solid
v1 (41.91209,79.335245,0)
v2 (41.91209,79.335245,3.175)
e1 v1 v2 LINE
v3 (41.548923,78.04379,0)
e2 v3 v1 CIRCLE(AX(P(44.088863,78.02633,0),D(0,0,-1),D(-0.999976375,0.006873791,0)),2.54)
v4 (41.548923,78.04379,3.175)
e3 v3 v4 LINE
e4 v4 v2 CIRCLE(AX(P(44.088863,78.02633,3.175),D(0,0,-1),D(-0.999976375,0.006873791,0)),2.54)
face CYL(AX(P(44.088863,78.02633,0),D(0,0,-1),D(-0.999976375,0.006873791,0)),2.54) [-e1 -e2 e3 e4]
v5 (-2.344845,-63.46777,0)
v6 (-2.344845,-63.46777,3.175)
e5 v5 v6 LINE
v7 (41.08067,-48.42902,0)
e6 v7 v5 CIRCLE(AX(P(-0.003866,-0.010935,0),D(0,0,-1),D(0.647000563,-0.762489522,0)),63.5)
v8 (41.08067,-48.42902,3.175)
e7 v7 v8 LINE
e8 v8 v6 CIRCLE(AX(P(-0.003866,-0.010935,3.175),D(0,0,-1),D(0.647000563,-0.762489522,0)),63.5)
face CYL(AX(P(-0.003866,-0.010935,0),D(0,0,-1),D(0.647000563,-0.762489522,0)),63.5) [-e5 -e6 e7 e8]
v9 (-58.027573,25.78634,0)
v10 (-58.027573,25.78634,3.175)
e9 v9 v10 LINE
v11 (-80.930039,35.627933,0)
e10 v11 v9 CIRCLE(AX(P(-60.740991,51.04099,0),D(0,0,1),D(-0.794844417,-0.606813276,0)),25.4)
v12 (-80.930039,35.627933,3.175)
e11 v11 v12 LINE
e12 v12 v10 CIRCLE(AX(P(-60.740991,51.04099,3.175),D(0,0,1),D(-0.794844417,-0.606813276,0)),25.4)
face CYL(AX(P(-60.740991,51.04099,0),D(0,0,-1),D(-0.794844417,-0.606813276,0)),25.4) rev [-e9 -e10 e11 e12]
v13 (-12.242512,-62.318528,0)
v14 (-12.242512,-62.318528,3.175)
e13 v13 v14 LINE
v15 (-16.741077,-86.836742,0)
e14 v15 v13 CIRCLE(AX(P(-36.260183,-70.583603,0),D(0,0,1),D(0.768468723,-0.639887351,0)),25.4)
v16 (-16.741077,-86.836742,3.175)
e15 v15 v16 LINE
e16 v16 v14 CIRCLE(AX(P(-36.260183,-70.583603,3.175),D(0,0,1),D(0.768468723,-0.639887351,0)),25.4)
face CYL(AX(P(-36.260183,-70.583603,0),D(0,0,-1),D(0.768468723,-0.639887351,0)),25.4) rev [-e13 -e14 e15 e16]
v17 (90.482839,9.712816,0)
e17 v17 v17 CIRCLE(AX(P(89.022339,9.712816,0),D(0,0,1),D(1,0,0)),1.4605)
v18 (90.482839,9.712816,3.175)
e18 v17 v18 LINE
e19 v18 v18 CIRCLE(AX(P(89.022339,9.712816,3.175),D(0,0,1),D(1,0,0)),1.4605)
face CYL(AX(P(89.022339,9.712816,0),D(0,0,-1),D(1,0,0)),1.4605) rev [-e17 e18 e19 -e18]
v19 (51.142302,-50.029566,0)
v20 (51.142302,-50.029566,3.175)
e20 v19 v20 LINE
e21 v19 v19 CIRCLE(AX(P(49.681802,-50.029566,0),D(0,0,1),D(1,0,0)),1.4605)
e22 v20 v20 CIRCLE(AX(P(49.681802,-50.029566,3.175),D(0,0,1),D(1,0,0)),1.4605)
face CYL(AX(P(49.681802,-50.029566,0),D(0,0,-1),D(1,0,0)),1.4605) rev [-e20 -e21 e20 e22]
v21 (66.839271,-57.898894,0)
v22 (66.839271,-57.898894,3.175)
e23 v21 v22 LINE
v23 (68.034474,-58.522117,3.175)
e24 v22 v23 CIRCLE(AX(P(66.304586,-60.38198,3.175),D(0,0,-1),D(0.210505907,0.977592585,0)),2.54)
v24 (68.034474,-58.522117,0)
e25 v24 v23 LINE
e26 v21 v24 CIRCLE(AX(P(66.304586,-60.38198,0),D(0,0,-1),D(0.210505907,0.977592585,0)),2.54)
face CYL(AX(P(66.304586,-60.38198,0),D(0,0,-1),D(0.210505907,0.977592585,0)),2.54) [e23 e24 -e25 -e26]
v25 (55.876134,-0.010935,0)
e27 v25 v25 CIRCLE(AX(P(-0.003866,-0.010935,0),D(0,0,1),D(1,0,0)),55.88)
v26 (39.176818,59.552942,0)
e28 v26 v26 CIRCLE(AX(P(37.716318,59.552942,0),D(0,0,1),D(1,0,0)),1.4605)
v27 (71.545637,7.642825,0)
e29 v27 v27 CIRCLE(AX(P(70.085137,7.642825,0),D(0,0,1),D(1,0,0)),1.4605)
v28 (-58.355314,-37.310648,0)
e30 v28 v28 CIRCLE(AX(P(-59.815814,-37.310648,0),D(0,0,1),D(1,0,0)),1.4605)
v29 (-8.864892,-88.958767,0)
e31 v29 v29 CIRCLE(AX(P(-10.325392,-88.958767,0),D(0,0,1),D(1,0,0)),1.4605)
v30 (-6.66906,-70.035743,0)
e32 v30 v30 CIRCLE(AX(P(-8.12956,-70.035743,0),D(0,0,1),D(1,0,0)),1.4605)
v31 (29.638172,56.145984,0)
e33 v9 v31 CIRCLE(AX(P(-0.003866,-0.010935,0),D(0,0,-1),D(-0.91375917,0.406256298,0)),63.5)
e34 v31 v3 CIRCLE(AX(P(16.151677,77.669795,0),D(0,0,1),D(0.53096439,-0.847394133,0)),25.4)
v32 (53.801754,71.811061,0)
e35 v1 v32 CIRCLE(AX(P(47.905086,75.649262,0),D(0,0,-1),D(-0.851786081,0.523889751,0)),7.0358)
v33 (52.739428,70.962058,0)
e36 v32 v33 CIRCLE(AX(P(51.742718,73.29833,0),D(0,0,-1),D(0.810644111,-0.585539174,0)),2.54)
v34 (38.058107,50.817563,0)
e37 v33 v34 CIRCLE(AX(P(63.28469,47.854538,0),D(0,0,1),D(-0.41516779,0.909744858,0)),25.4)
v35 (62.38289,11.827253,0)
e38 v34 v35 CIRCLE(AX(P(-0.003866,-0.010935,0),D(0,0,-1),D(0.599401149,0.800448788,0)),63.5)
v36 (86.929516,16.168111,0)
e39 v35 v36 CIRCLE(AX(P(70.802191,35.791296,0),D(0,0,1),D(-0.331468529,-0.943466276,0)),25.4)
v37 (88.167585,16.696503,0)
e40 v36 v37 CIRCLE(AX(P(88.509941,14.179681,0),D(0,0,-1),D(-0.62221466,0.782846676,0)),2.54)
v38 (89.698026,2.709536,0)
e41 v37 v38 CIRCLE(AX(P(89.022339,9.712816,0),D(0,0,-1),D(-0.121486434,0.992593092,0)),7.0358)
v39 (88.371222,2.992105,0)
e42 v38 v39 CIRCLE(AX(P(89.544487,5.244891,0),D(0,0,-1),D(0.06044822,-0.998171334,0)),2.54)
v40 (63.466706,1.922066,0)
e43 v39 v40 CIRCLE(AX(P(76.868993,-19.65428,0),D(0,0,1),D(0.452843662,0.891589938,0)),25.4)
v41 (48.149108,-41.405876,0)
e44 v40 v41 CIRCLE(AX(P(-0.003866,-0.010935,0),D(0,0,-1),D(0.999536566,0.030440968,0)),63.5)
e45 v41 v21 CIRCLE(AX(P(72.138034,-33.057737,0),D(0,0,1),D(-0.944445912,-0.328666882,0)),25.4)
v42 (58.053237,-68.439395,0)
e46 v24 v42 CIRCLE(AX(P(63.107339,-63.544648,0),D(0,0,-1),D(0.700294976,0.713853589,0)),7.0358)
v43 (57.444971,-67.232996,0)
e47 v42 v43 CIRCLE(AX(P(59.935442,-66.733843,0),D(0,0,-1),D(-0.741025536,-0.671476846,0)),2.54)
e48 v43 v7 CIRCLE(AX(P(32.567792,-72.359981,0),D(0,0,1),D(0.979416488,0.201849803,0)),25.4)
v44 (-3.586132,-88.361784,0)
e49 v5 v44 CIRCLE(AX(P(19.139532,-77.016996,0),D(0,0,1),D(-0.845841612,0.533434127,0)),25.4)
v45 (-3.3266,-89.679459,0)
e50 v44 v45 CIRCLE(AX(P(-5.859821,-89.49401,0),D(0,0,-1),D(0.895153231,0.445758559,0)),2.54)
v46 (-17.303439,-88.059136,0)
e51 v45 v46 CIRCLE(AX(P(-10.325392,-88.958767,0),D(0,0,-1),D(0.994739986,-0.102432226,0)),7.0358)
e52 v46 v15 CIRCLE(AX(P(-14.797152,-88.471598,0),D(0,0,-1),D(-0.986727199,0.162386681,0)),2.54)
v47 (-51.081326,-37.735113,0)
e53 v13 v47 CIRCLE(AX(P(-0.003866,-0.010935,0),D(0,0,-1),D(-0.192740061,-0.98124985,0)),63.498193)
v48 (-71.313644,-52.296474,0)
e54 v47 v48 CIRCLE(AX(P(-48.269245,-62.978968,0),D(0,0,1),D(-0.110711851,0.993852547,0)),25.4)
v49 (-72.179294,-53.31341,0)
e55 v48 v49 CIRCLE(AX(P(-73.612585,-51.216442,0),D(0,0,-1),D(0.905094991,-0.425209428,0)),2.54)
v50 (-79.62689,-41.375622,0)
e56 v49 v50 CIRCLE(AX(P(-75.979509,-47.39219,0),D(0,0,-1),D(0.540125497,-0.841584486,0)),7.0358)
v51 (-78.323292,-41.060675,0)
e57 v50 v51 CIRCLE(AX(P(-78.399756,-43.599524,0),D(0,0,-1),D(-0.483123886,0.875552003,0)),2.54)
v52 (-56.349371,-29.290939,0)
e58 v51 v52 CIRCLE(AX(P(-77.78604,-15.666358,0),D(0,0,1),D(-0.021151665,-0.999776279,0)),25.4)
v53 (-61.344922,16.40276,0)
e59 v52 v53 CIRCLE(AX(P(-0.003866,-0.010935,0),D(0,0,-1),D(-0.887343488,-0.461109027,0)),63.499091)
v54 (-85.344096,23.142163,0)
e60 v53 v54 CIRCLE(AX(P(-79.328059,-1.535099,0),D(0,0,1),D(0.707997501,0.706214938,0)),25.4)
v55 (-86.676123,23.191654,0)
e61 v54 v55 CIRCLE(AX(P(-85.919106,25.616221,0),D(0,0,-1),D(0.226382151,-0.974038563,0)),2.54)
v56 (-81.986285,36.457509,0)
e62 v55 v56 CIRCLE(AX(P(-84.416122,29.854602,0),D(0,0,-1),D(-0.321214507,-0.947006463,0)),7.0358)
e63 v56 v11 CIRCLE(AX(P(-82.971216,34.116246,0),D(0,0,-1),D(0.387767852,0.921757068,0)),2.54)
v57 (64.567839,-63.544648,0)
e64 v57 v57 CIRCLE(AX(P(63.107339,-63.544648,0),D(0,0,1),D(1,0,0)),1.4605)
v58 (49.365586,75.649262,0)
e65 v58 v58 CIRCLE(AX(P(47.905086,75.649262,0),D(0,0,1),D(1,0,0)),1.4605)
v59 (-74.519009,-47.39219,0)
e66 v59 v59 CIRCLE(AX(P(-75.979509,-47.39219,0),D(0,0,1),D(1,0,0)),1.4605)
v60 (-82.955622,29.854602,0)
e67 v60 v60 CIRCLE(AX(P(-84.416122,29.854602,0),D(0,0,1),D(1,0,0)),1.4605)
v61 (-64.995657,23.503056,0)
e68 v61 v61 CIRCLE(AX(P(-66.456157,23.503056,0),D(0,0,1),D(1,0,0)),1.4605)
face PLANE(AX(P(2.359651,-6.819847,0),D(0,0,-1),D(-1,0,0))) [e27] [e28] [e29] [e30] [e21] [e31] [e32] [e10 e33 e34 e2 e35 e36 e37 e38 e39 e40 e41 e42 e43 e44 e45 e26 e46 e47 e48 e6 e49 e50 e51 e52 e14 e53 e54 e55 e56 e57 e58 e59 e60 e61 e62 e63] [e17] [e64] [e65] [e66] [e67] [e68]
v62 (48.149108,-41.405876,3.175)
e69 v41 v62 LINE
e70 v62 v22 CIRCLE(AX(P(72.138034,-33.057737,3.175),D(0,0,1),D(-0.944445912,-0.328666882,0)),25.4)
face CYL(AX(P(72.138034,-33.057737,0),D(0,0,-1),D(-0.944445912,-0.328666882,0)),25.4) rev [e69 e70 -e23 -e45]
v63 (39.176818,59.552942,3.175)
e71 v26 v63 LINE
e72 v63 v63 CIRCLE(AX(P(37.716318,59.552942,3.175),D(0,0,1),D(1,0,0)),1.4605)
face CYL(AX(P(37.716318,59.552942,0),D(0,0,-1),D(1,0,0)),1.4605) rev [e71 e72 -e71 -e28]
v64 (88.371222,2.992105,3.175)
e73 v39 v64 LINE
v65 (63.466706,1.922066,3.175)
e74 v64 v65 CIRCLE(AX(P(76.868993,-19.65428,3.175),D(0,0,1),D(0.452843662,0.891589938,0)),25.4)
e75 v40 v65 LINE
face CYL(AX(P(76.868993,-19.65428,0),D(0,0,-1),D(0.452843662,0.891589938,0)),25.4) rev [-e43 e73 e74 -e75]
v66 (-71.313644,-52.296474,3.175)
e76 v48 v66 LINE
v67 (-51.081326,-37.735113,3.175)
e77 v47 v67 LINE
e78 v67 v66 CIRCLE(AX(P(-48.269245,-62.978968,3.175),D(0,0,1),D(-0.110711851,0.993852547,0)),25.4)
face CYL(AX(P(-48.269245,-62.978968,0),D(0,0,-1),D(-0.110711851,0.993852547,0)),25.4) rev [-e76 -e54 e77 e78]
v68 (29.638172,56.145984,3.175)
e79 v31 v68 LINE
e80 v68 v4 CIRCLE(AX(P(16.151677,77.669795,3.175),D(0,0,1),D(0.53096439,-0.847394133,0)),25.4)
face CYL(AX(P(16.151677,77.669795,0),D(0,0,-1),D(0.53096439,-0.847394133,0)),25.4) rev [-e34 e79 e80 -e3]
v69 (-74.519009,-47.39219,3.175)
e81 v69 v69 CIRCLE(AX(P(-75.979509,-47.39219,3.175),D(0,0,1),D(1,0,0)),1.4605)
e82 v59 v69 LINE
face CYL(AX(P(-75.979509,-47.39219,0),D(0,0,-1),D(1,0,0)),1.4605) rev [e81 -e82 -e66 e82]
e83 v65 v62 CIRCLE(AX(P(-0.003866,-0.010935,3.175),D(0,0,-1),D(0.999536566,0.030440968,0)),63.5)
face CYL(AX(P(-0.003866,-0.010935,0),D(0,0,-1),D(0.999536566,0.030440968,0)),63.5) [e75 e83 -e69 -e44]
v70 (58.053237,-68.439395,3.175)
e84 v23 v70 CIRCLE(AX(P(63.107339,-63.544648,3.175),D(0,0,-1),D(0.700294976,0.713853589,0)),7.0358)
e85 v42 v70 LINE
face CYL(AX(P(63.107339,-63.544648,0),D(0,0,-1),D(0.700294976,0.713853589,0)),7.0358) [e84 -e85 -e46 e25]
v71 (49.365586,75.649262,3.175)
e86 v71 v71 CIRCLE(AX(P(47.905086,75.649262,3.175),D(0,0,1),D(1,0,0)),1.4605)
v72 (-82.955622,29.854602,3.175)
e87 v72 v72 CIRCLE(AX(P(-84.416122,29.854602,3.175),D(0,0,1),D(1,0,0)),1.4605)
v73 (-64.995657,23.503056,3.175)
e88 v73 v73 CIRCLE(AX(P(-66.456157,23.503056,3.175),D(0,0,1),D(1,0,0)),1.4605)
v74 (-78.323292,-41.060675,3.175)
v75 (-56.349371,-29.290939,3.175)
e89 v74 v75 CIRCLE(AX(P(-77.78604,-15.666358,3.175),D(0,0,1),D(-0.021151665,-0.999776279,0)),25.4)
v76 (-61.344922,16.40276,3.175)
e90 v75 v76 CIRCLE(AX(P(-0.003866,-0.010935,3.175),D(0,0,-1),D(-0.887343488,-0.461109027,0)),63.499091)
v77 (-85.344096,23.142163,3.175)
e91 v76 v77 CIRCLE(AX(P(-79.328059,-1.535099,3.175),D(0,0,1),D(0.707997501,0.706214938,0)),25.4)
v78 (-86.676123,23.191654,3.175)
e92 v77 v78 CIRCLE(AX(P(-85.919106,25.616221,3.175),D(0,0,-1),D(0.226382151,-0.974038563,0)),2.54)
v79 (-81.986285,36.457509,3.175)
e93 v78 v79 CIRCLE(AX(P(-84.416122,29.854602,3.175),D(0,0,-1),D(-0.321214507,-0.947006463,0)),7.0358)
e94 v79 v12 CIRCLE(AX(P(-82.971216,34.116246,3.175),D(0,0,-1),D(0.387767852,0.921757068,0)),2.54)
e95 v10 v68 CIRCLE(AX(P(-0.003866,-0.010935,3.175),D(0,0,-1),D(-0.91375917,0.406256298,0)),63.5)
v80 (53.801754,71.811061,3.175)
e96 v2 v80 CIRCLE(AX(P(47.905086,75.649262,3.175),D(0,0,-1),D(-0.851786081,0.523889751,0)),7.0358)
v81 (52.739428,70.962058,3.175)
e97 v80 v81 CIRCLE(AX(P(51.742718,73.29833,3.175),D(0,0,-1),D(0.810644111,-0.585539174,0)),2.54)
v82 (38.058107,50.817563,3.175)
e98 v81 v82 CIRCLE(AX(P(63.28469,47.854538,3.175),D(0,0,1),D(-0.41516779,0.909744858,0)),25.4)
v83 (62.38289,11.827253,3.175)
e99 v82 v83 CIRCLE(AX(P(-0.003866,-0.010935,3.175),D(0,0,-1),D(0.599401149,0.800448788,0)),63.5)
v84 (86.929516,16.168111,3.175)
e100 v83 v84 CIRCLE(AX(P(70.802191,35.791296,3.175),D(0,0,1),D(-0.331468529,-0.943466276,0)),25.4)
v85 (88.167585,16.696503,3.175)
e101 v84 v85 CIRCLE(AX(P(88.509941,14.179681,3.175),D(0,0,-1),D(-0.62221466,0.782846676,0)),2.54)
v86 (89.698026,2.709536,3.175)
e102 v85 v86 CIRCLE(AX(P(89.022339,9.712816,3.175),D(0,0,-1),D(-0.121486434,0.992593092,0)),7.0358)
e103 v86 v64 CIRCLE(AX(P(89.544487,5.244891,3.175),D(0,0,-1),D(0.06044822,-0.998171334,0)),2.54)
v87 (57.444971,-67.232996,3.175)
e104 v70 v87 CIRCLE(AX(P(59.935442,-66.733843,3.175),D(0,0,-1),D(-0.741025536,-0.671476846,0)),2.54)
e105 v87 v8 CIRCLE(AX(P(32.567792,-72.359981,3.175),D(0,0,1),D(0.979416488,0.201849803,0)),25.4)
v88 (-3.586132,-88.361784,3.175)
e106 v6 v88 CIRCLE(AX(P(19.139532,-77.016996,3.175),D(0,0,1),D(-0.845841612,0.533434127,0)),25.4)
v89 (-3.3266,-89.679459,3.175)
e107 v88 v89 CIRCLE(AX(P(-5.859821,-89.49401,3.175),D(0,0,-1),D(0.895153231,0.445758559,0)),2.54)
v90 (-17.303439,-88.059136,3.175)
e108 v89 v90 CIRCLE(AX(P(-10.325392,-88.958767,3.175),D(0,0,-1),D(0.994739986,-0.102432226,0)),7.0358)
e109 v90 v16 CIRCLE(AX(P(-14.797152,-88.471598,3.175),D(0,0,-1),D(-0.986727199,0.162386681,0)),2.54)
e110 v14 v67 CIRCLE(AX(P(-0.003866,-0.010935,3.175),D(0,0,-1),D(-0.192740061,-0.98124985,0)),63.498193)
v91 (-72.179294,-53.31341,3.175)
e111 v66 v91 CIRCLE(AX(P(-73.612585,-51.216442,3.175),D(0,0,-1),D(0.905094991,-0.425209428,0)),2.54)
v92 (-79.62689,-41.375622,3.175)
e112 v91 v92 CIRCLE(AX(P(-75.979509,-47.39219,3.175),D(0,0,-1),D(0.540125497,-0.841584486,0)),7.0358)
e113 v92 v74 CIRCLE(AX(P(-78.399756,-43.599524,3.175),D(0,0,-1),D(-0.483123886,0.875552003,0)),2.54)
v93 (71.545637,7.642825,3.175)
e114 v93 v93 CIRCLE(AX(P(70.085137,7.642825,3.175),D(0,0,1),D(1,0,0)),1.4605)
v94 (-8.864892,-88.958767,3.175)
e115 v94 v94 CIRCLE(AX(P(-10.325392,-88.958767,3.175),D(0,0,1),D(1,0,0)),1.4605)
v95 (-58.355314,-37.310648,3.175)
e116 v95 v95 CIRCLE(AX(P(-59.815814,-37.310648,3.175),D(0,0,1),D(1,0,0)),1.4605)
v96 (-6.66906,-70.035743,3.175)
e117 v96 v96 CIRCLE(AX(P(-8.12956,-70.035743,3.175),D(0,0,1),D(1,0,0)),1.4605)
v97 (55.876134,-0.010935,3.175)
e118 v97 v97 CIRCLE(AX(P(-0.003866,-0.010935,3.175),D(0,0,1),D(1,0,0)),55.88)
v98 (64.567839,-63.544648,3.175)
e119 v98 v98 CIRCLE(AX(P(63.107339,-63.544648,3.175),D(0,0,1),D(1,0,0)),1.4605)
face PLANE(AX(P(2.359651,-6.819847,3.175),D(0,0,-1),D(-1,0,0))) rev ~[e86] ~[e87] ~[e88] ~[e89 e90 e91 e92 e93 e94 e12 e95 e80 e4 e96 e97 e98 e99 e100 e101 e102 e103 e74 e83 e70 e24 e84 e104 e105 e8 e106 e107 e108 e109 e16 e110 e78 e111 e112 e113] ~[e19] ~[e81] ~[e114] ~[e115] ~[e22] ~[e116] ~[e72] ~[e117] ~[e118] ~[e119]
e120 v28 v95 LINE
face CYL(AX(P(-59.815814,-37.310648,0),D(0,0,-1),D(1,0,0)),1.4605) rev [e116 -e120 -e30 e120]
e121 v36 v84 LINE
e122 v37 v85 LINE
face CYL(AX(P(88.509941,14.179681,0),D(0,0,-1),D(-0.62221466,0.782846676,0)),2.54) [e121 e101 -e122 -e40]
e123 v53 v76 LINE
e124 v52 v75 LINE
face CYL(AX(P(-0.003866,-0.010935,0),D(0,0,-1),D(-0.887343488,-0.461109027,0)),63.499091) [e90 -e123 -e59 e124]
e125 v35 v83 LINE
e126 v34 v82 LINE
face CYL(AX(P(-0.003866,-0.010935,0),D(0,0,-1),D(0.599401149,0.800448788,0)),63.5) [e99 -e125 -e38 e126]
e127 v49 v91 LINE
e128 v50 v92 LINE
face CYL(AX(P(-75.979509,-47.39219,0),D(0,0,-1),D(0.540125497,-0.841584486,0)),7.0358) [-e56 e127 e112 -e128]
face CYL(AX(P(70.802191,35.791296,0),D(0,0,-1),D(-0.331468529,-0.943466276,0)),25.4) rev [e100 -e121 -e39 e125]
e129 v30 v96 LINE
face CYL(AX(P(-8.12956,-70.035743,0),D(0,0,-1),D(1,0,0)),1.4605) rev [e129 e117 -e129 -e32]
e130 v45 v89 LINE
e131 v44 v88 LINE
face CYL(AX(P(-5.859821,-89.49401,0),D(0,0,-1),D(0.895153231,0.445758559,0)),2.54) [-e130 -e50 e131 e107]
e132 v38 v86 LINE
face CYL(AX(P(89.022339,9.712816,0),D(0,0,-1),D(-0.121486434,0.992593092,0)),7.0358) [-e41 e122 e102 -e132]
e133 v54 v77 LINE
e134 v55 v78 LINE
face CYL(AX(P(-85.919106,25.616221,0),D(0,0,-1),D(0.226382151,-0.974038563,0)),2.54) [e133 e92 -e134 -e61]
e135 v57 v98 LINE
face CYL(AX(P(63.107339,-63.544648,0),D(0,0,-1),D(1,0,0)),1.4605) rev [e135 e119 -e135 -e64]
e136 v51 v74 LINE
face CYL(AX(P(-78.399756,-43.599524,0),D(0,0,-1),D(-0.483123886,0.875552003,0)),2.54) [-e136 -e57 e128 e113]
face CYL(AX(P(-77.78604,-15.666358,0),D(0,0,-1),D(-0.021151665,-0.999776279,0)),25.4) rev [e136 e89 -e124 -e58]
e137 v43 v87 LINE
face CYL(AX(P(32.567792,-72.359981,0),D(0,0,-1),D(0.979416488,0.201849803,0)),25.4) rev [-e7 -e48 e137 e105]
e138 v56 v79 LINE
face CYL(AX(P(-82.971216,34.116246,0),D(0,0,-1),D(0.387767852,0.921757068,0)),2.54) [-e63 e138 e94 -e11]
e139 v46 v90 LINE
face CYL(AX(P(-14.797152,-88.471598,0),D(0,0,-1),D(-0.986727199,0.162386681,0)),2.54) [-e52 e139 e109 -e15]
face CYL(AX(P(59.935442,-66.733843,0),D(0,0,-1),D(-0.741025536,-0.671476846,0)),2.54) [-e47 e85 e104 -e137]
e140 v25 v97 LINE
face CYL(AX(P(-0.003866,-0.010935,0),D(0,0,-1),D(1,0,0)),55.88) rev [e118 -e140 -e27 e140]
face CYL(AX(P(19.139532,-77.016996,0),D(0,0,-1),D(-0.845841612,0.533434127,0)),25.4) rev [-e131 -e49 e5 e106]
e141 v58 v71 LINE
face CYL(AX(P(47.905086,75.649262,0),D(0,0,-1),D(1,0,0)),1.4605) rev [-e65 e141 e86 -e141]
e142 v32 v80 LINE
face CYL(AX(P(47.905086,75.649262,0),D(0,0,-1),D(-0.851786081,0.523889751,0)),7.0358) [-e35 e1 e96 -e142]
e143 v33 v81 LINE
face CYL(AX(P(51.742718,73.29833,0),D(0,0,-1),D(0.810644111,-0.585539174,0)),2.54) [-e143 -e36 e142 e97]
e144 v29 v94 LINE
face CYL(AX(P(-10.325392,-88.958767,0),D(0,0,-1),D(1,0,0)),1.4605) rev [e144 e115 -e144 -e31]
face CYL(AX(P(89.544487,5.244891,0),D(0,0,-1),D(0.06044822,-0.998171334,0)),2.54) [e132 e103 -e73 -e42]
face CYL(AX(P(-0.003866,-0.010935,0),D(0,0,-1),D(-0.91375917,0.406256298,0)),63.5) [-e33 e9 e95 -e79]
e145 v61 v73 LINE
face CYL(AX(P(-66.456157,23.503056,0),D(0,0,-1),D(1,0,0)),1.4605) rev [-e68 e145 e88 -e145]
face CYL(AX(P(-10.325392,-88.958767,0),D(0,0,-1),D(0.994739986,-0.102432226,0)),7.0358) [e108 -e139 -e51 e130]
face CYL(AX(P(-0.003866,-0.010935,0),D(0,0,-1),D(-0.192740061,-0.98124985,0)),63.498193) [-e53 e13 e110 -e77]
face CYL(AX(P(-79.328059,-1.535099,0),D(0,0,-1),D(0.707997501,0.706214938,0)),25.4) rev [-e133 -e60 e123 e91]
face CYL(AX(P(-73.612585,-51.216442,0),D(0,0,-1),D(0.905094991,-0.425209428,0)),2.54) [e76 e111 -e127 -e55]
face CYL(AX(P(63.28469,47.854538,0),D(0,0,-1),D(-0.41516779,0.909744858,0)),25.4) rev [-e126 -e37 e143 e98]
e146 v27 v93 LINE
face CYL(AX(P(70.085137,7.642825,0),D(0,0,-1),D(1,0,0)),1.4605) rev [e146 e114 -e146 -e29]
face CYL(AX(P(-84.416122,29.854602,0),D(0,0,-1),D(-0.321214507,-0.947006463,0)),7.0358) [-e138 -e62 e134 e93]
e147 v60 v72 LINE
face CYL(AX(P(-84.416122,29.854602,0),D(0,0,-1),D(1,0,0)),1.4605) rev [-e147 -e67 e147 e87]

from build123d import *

# Parameters (mm, degrees)
SKETCH1_R           = 1.4605
SKETCH1_R_2         = 55.88
BOSS_EXTRUDE1_DEPTH = 3.175


with BuildPart() as part:
    # Sketch1 → Boss-Extrude1 (new body)
    with BuildSketch(Plane.XY):
        with BuildLine():
            ThreePointArc((88.371221891, 2.992104588), (75.778671602, 5.722307778), (63.466706043, 1.922066166))
            ThreePointArc((63.466706043, 1.922066166), (59.865004486, -21.176198252), (48.149108175, -41.405875631))
            ThreePointArc((48.149108175, -41.405875631), (55.331871693, -52.10275973), (66.839271225, -57.898894408))
            ThreePointArc((66.839271225, -57.898894408), (67.47896866, -58.129774903), (68.034473997, -58.522117141))
            ThreePointArc((68.034473997, -58.522117141), (68.066383731, -68.535675481), (58.053237429, -68.439394687))
            ThreePointArc((58.053237429, -68.439394687), (57.667420479, -67.877380582), (57.444971188, -67.232996469))
            ThreePointArc((57.444971188, -67.232996469), (51.728203311, -55.685490362), (41.080669811, -48.429019967))
            ThreePointArc((41.080669811, -48.429019967), (20.776095309, -60.014628604), (-2.344845215, -63.467769564))
            ThreePointArc((-2.344845215, -63.467769564), (-6.228950943, -75.752050976), (-3.586132247, -88.361783585))
            ThreePointArc((-3.586132247, -88.361783585), (-3.36770111, -89.003157809), (-3.32660045, -89.679459363))
            ThreePointArc((-3.32660045, -89.679459363), (-11.135620218, -95.947758903), (-17.303439466, -88.059135792))
            ThreePointArc((-17.303439466, -88.059135792), (-17.104674606, -87.410023107), (-16.741077367, -86.836741505))
            ThreePointArc((-16.741077367, -86.836741505), (-11.27722002, -75.167440106), (-12.242511565, -62.318527916))
            ThreePointArc((-12.242511565, -62.318527916), (-33.964407462, -53.664473517), (-51.081326085, -37.735113336))
            ThreePointArc((-51.081326085, -37.735113336), (-63.106619809, -42.363141327), (-71.313643792, -52.296473576))
            ThreePointArc((-71.313643792, -52.296473576), (-71.67843667, -52.862852869), (-72.179293677, -53.313409866))
            ThreePointArc((-72.179293677, -53.313409866), (-81.948891787, -51.116293203), (-79.626890286, -41.375621876))
            ThreePointArc((-79.626890286, -41.375621876), (-78.996252753, -41.130558358), (-78.323292008, -41.060675146))
            ThreePointArc((-78.323292008, -41.060675146), (-65.793205462, -38.056800419), (-56.34937083, -29.290939384))
            ThreePointArc((-56.34937083, -29.290939384), (-63.126842761, -6.911975648), (-61.344922052, 16.402760085))
            ThreePointArc((-61.344922052, 16.402760085), (-72.460908038, 22.91898505), (-85.344095674, 23.142163421))
            ThreePointArc((-85.344095674, 23.142163421), (-86.013413894, 23.077972745), (-86.676123345, 23.191654347))
            ThreePointArc((-86.676123345, 23.191654347), (-91.049593156, 32.199713553), (-81.986285397, 36.457508913))
            ThreePointArc((-81.986285397, 36.457508913), (-81.402337069, 36.113799392), (-80.930038908, 35.627932814))
            ThreePointArc((-80.930038908, 35.627932814), (-70.769133899, 27.704401933), (-58.027573187, 25.786339663))
            ThreePointArc((-58.027573187, 25.786339663), (-20.78382715, 59.992758023), (29.638172071, 56.145983995))
            ThreePointArc((29.638172071, 56.145983995), (38.464561255, 65.533272539), (41.548923024, 78.043789903))
            ThreePointArc((41.548923024, 78.043789903), (41.643702385, 78.713927363), (41.912089569, 79.335245044))
            ThreePointArc((41.912089569, 79.335245044), (51.667486511, 81.594581089), (53.801754345, 71.811060778))
            ThreePointArc((53.801754345, 71.811060778), (53.328466449, 71.314142081), (52.739428076, 70.96205769))
            ThreePointArc((52.739428076, 70.96205769), (42.75772259, 62.814605524), (38.058107022, 50.817562776))
            ThreePointArc((38.058107022, 50.817562776), (53.871433145, 33.600106803), (62.38288993, 11.827252681))
            ThreePointArc((62.38288993, 11.827252681), (75.225331292, 10.779382415), (86.929515737, 16.168111273))
            ThreePointArc((86.929515737, 16.168111273), (87.512909807, 16.51581617), (88.167585105, 16.696502613))
            ThreePointArc((88.167585105, 16.696502613), (96.016395661, 10.478099143), (89.698025701, 2.709536219))
            ThreePointArc((89.698025701, 2.709536219), (89.01541073, 2.76060518), (88.371221891, 2.992104588))
        make_face()
        with Locations((-10.325392041, -88.958766705)):
            Circle(SKETCH1_R, mode=Mode.SUBTRACT)
        with Locations((-8.129560177, -70.035743099)):
            Circle(SKETCH1_R, mode=Mode.SUBTRACT)
        with Locations((-75.97950865, -47.392189739)):
            Circle(SKETCH1_R, mode=Mode.SUBTRACT)
        with Locations((-59.815814277, -37.310647981)):
            Circle(SKETCH1_R, mode=Mode.SUBTRACT)
        with Locations((-84.416122315, 29.854602417)):
            Circle(SKETCH1_R, mode=Mode.SUBTRACT)
        with Locations((-66.456156975, 23.503055756)):
            Circle(SKETCH1_R, mode=Mode.SUBTRACT)
        with Locations((47.905086081, 75.649261531)):
            Circle(SKETCH1_R, mode=Mode.SUBTRACT)
        with Locations((37.716317694, 59.552942115)):
            Circle(SKETCH1_R, mode=Mode.SUBTRACT)
        with Locations((89.022339359, 9.712816136)):
            Circle(SKETCH1_R, mode=Mode.SUBTRACT)
        with Locations((70.085136904, 7.642825025)):
            Circle(SKETCH1_R, mode=Mode.SUBTRACT)
        with Locations((63.107338606, -63.544648224)):
            Circle(SKETCH1_R, mode=Mode.SUBTRACT)
        with Locations((49.68180178, -50.029565503)):
            Circle(SKETCH1_R, mode=Mode.SUBTRACT)
        with Locations((-0.003865921, -0.010935291)):
            Circle(SKETCH1_R_2, mode=Mode.SUBTRACT)
    extrude(amount=BOSS_EXTRUDE1_DEPTH)


solid = part.part
